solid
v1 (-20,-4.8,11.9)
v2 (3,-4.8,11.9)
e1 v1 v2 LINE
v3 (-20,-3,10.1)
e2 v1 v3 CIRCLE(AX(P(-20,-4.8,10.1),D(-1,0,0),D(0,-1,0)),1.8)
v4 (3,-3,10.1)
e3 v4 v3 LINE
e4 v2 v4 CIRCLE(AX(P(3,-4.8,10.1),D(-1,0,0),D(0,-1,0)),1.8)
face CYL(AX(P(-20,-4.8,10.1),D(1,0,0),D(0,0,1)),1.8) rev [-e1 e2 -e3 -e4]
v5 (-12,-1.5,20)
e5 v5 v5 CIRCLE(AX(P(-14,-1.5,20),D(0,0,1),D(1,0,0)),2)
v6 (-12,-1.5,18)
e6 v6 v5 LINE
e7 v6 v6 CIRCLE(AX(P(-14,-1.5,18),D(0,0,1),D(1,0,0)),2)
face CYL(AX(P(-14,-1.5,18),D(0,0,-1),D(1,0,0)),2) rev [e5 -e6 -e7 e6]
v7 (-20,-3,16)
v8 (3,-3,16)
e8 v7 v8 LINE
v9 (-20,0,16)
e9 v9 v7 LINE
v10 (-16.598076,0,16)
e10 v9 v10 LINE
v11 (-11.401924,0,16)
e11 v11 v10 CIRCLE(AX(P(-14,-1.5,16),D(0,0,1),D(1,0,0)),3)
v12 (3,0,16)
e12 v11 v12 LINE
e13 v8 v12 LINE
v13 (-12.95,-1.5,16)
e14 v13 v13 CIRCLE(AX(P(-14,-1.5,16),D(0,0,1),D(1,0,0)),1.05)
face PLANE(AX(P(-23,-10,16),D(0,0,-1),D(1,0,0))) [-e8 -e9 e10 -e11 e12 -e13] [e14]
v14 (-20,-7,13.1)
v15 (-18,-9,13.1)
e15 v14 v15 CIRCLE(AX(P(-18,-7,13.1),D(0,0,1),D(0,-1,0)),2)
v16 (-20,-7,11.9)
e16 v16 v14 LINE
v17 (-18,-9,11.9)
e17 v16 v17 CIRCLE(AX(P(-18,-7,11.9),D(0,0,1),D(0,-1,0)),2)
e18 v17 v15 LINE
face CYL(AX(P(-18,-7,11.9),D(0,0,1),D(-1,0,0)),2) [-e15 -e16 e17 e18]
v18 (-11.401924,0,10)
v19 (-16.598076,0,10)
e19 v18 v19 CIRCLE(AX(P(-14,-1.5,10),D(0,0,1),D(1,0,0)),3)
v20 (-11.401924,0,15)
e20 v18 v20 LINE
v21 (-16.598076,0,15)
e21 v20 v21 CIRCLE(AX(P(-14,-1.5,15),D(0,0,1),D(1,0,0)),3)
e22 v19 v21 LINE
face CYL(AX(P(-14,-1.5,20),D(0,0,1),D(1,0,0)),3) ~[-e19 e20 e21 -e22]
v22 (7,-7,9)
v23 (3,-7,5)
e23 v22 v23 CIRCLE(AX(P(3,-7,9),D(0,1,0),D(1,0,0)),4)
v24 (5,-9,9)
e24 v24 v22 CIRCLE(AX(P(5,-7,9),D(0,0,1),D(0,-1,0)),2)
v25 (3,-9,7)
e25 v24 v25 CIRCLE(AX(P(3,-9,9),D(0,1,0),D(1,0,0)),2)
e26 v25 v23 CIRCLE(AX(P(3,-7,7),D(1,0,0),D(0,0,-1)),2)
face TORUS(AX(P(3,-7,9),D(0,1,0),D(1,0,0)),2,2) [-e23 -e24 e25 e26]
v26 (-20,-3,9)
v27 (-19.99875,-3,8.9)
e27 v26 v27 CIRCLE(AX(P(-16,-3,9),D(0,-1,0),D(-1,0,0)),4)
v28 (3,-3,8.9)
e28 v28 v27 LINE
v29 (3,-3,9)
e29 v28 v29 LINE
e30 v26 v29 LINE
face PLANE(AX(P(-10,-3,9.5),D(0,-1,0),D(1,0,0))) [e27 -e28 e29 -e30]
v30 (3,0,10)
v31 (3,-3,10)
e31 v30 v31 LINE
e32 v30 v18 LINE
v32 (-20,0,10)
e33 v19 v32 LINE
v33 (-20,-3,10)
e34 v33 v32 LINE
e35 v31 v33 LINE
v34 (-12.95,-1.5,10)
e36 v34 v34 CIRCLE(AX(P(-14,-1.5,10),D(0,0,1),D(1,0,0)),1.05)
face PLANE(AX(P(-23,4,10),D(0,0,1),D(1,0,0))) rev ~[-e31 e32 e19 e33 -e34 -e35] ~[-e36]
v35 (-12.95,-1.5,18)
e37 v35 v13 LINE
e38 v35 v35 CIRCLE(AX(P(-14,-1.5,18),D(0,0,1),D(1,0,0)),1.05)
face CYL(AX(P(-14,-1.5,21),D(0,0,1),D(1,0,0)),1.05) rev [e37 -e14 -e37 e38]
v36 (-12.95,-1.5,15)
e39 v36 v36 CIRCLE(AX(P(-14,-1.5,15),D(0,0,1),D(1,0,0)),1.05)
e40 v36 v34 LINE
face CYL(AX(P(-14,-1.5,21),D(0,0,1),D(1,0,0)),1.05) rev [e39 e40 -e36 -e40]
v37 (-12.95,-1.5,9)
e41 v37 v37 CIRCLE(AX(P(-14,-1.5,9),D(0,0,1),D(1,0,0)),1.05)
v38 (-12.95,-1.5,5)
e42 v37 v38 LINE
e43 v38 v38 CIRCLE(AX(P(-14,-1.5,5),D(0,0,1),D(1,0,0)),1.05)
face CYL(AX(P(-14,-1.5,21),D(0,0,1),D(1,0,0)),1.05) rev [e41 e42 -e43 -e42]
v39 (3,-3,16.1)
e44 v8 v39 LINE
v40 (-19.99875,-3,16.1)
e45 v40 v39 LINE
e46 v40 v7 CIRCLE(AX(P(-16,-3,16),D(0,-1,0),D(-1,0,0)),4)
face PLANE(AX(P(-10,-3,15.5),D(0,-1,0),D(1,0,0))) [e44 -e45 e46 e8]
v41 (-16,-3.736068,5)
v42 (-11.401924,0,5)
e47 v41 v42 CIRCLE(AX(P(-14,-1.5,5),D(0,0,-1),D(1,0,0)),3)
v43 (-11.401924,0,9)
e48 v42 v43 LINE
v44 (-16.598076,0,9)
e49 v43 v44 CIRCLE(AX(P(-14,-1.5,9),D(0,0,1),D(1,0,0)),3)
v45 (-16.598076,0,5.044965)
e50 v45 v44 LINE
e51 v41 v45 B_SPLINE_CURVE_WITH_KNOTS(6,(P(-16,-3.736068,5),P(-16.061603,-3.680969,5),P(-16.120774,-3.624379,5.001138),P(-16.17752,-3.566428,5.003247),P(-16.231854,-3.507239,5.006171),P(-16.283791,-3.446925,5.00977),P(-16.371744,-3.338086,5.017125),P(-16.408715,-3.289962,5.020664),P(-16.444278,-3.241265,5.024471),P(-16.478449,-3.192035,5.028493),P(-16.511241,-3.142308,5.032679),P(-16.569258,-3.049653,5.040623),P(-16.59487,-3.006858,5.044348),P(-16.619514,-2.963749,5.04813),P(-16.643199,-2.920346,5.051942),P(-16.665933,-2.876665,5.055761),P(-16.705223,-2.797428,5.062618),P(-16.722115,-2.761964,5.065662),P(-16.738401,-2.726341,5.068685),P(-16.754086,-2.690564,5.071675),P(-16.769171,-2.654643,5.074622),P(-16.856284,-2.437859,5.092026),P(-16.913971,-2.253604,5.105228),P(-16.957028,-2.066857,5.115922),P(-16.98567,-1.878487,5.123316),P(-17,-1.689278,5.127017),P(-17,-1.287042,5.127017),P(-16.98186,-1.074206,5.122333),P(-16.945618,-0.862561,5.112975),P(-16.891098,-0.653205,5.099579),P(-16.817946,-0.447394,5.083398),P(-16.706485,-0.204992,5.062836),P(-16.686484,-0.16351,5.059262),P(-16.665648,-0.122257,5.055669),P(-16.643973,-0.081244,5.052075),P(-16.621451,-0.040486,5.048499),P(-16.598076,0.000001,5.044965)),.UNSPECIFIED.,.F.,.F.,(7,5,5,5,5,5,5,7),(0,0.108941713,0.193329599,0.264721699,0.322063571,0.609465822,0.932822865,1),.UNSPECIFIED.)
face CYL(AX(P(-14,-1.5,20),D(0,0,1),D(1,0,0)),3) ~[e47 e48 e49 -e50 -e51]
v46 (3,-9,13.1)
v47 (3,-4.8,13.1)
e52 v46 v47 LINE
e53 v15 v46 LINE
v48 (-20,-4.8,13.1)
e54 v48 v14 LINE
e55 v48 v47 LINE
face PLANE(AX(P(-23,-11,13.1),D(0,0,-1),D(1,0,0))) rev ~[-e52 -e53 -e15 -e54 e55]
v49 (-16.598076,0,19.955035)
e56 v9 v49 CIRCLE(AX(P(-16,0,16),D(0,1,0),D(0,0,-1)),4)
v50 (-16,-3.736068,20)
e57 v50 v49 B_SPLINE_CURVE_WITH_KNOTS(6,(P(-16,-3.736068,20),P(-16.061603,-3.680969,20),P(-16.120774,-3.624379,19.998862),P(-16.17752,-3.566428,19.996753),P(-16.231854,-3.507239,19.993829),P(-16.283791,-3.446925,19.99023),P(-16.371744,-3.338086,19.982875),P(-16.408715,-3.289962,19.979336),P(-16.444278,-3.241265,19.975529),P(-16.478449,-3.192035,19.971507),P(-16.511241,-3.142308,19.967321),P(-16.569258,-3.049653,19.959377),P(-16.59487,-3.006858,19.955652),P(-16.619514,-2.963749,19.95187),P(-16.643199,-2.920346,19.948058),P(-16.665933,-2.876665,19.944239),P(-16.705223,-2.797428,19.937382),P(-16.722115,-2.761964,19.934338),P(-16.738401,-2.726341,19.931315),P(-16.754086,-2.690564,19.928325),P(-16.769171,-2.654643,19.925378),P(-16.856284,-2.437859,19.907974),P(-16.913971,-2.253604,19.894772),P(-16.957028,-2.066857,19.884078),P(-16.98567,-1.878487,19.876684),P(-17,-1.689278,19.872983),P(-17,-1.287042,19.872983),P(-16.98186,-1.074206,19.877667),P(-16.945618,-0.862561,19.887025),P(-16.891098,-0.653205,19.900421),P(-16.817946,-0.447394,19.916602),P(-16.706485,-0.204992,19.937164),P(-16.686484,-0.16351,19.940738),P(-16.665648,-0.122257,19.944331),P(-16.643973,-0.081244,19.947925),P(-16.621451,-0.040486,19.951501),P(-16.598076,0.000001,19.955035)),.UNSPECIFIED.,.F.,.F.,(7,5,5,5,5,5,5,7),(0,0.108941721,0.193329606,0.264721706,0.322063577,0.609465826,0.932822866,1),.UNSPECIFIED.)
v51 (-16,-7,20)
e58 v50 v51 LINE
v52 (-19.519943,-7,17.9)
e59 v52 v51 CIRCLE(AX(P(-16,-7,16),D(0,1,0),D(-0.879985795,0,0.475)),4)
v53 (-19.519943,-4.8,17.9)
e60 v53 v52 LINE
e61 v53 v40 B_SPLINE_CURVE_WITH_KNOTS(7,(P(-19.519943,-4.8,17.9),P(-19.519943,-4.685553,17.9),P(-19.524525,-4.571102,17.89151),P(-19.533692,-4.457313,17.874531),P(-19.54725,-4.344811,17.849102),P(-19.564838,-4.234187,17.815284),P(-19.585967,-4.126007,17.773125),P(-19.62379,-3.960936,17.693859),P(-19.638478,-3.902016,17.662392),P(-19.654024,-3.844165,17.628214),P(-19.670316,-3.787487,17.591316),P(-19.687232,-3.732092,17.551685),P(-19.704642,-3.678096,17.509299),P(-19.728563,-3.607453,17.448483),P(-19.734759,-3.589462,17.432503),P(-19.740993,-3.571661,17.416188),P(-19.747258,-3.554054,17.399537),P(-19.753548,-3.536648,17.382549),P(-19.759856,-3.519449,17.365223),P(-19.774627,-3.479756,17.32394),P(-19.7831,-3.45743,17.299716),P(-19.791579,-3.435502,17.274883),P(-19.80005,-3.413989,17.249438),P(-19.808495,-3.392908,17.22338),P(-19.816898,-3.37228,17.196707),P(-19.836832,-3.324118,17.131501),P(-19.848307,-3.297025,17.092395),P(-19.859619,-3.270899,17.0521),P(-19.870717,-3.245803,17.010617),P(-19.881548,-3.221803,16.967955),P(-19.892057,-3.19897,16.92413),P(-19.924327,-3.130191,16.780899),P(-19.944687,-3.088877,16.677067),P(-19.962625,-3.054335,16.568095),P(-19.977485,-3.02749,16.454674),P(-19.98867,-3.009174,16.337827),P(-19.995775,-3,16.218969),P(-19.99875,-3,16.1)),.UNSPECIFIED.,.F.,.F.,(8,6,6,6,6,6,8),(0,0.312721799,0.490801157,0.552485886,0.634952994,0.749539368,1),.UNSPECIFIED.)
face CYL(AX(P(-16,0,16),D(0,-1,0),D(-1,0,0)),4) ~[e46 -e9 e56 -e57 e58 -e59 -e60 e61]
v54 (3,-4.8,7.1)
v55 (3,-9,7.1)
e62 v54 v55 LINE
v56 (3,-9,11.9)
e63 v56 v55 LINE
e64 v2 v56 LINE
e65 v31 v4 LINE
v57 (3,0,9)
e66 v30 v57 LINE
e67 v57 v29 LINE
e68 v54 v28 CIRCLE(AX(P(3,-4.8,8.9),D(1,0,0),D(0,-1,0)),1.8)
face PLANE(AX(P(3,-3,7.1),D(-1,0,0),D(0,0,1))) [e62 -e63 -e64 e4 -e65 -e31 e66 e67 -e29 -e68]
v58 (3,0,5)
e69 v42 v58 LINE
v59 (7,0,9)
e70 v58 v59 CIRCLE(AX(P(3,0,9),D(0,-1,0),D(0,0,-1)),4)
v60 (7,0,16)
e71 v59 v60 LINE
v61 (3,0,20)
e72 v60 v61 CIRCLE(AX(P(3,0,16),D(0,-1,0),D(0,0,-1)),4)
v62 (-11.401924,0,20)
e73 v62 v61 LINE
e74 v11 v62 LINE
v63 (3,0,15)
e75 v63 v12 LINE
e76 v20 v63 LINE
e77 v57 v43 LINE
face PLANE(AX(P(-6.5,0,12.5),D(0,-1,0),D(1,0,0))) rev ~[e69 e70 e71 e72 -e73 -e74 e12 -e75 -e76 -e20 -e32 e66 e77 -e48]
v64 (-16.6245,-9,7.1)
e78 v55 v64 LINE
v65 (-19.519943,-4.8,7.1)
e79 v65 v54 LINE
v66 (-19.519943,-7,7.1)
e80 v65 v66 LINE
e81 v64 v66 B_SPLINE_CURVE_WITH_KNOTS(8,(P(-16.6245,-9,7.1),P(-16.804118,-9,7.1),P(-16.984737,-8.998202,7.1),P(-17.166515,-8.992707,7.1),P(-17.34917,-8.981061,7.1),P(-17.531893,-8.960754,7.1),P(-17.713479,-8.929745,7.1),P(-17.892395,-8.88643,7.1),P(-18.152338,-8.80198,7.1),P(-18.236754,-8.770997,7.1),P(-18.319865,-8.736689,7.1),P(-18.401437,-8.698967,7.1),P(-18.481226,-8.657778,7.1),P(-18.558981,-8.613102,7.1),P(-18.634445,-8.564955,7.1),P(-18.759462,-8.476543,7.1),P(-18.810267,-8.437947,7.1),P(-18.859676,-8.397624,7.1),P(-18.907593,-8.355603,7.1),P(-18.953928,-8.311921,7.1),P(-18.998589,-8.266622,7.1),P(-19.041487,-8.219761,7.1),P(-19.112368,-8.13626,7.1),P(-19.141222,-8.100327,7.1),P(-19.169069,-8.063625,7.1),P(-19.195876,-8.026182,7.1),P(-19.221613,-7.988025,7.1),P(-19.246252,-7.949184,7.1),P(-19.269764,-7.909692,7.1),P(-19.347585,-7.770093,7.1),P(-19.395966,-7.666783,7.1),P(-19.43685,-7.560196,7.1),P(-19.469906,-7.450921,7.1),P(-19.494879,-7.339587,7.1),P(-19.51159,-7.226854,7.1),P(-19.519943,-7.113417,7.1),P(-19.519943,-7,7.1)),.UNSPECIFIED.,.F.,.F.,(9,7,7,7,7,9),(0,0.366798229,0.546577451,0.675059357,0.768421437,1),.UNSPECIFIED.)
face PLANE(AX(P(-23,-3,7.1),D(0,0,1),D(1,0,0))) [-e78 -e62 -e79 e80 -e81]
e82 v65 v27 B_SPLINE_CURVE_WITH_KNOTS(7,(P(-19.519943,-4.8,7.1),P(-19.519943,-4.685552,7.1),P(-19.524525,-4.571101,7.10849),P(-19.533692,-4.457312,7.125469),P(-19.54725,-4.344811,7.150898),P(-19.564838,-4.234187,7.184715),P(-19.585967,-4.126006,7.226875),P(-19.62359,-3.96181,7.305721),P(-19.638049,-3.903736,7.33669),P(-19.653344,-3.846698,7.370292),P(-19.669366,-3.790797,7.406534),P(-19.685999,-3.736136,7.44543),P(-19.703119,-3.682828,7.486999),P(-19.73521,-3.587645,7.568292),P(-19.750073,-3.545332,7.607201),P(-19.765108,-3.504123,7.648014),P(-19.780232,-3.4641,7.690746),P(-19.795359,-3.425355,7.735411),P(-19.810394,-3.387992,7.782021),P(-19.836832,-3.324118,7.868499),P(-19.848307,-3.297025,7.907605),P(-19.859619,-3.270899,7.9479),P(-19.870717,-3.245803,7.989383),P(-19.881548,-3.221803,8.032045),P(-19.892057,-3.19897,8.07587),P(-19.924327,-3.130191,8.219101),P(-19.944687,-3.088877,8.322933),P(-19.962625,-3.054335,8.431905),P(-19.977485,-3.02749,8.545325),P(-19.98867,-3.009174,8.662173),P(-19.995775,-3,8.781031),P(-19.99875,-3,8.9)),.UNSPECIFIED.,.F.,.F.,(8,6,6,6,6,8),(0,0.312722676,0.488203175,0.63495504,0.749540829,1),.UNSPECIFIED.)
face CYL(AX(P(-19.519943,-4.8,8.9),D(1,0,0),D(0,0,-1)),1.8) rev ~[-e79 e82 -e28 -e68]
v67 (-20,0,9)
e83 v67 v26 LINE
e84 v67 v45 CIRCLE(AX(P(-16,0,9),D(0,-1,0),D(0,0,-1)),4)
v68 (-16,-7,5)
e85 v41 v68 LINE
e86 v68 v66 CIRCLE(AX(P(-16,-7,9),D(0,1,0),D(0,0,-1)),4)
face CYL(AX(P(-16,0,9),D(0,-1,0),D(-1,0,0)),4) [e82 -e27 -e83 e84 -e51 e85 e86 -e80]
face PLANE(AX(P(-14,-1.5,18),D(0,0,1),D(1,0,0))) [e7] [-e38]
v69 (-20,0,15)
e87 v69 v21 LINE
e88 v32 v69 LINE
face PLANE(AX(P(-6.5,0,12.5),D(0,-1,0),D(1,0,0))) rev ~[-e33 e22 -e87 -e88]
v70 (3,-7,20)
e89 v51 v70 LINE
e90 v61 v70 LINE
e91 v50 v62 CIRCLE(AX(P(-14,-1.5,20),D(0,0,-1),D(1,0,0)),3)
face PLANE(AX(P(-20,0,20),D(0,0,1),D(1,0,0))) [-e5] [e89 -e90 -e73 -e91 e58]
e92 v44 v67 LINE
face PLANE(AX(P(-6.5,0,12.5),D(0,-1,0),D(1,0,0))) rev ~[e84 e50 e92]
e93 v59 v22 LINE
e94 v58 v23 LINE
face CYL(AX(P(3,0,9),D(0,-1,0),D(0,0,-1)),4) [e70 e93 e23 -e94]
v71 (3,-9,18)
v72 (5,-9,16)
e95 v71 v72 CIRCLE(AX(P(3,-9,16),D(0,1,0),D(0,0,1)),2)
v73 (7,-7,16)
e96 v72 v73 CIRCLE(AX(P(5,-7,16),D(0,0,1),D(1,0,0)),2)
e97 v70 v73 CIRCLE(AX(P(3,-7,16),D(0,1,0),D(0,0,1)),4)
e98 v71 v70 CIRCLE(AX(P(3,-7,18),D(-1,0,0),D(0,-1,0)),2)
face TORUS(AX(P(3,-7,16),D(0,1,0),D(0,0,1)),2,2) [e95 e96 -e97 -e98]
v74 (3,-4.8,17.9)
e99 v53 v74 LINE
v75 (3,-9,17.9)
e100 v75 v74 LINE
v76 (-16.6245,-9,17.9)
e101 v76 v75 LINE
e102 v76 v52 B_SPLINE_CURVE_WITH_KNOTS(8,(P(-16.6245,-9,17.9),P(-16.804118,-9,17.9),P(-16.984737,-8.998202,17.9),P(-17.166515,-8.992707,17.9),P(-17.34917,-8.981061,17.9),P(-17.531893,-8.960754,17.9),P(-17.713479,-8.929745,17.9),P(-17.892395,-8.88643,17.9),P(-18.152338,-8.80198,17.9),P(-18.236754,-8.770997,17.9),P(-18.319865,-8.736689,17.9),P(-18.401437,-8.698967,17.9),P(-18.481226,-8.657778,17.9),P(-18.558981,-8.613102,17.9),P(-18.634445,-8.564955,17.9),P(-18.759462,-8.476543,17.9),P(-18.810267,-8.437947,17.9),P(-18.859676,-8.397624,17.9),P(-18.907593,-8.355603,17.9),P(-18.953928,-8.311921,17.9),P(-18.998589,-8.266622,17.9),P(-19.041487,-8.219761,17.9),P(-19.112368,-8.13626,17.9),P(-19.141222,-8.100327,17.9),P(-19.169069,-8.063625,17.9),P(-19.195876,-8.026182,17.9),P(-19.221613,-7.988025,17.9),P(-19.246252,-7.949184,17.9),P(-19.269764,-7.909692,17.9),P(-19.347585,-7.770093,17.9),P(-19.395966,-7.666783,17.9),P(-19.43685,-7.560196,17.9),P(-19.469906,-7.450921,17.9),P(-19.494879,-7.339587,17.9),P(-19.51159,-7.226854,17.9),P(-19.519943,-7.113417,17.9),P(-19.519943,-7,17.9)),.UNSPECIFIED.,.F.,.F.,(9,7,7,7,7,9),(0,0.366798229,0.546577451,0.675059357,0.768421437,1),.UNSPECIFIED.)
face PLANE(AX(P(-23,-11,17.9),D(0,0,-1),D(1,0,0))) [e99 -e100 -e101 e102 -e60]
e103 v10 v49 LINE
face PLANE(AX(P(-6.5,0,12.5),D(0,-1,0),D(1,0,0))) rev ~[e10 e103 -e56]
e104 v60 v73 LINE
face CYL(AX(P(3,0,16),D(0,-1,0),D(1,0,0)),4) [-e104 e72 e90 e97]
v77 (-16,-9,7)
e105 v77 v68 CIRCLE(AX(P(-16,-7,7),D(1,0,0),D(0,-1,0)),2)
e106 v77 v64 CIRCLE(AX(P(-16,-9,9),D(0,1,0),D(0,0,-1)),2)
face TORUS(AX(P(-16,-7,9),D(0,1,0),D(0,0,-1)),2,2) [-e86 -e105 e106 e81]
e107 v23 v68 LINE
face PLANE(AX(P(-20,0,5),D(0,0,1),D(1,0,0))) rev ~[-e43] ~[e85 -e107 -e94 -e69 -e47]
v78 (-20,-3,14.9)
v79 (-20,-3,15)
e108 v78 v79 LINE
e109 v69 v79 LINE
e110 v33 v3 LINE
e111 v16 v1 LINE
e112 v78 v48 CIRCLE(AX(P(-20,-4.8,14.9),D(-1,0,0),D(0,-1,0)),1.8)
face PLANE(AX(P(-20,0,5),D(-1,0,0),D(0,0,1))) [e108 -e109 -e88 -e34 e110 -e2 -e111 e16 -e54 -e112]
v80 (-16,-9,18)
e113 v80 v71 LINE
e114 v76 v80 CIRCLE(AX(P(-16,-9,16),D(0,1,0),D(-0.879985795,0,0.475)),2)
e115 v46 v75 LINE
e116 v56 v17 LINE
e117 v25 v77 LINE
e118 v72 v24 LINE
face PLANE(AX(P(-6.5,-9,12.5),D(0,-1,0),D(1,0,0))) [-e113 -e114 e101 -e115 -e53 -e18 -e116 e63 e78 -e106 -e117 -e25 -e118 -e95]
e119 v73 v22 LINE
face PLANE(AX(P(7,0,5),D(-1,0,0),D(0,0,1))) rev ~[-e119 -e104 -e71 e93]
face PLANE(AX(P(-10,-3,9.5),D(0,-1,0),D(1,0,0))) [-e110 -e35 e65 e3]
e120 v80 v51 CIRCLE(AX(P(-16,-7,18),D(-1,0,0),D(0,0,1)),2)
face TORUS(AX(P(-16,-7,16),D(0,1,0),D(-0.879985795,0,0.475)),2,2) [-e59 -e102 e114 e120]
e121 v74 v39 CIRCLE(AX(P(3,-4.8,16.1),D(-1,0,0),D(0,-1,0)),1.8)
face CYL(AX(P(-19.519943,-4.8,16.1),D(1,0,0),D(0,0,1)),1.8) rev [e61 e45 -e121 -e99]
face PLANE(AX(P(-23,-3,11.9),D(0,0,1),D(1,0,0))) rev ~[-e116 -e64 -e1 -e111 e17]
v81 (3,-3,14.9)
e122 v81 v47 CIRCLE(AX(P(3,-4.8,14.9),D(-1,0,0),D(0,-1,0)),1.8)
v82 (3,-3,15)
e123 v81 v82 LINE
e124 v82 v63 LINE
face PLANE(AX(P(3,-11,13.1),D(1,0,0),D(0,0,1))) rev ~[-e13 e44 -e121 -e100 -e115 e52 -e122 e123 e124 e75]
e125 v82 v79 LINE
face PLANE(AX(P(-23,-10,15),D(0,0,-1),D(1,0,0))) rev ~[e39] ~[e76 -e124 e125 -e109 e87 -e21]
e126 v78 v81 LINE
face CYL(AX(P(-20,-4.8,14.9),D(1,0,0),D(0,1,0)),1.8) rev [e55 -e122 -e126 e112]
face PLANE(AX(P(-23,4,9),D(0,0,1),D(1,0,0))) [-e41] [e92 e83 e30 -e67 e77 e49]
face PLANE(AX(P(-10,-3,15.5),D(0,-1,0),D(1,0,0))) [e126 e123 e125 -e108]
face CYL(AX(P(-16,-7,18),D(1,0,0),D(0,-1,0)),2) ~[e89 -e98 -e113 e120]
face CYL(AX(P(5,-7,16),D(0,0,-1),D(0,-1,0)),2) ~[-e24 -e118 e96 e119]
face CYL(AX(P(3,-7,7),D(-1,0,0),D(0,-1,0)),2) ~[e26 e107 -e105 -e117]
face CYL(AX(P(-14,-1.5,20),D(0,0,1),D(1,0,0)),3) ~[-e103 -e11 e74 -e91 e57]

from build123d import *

# Parameters (mm, degrees)
CYLINDER002_R          = 2
CYLINDER002_DEPTH      = 2
CYLINDER_R             = 1.05
CYLINDER_DEPTH         = 20
CYLINDER_ROLL_ANGLE    = 90
RECTANGLE004_W         = 26
RECTANGLE004_H         = 4.8
EXTRUDE005_DEPTH       = 8
RECTANGLE002_W         = 26
RECTANGLE002_H         = 1
EXTRUDE004_DEPTH       = 20
RECTANGLE005_W         = 26
RECTANGLE005_H         = 4.8
EXTRUDE008_DEPTH       = 8
RECTANGLE001_W         = 26
RECTANGLE001_H         = 1
EXTRUDE002_DEPTH       = 20
RECTANGLE_W            = 27
RECTANGLE_H            = 15
EXTRUDE_DEPTH          = 9
FILLET_R               = 4
FILLET001_R            = 1.8
RECTANGLE008_W         = 26
RECTANGLE008_H         = 4.8
EXTRUDE011_DEPTH       = 8
RECTANGLE007_W         = 26
RECTANGLE007_H         = 1
EXTRUDE010_DEPTH       = 20
RECTANGLE009_W         = 26
RECTANGLE009_H         = 4.8
EXTRUDE012_DEPTH       = 8
RECTANGLE006_W         = 26
RECTANGLE006_H         = 1
EXTRUDE009_DEPTH       = 20
CYLINDER001_R          = 3
CYLINDER001_DEPTH      = 15
CYLINDER001_ROLL_ANGLE = 90
CUT002_ROLL_ANGLE      = 90
FILLET002_R            = 2


with BuildPart() as cylinder002:
    # Cylinder002 → Cylinder002 (new body)
    with BuildSketch(Plane(origin=(-14, -1.5, 18), x_dir=(1, 0, 0), z_dir=(0, 0, 1))):
        Circle(CYLINDER002_R)
    extrude(amount=CYLINDER002_DEPTH)


with BuildPart() as cylinder:
    # Cylinder → Cylinder (new body)
    with BuildSketch(Plane.XY):
        Circle(CYLINDER_R)
    extrude(amount=CYLINDER_DEPTH)


with BuildPart() as cylinder_1:
    # Cylinder roll: moved
    add(cylinder.part.rotate(Axis((0, 0, 0), (1, 0, 0)), CYLINDER_ROLL_ANGLE))


with BuildPart() as cylinder_2:
    # Cylinder placement: moved
    add(cylinder_1.part.moved(Location((-14, 21, 1.5))))


with BuildPart() as extrude005:
    # Rectangle004 → Extrude005 (new body)
    with BuildSketch(Plane(origin=(-23, 13.1, 0), x_dir=(1, 0, 0), z_dir=(0, 0, 1))):
        with Locations((13, 2.4)):
            Rectangle(RECTANGLE004_W, RECTANGLE004_H)
    extrude(amount=-EXTRUDE005_DEPTH)


with BuildPart() as extrude005_1:
    # Extrude005 placement: moved
    add(extrude005.part.moved(Location((0, 0, 11))))


with BuildPart() as extrude004:
    # Rectangle002 → Extrude004 (new body)
    with BuildSketch(Plane(origin=(-23, 10, 0), x_dir=(1, 0, 0), z_dir=(0, 0, 1))):
        with Locations((13, -0.5)):
            Rectangle(RECTANGLE002_W, RECTANGLE002_H)
    extrude(amount=EXTRUDE004_DEPTH)


with BuildPart() as extrude004_1:
    # Extrude004 placement: moved
    add(extrude004.part.moved(Location((0, 0, -4))))


with BuildPart() as extrude008:
    # Rectangle005 → Extrude008 (new body)
    with BuildSketch(Plane(origin=(-23, 11.9, 0), x_dir=(1, 0, 0), z_dir=(0, 0, 1))):
        with Locations((13, -2.4)):
            Rectangle(RECTANGLE005_W, RECTANGLE005_H)
    extrude(amount=EXTRUDE008_DEPTH)


with BuildPart() as extrude008_1:
    # Extrude008 placement: moved
    add(extrude008.part.moved(Location((0, 0, 3))))


with BuildPart() as fusion:
    # Rectangle001 → Extrude002 (new body)
    with BuildSketch(Plane(origin=(-23, 16, 0), x_dir=(1, 0, 0), z_dir=(0, 0, 1))):
        with Locations((13, 0.5)):
            Rectangle(RECTANGLE001_W, RECTANGLE001_H)
    extrude(amount=-EXTRUDE002_DEPTH)


with BuildPart() as fusion_1:
    # Extrude002 placement: moved
    add(fusion.part.moved(Location((0, -1, 10))))

    # Fusion: union Extrude005, Extrude004, Extrude008
    add(extrude005_1.part)
    add(extrude004_1.part)
    add(extrude008_1.part)


with BuildPart() as fillet001:
    # Rectangle → Extrude (new body)
    with BuildSketch(Plane(origin=(-20, 20, 0), x_dir=(1, 0, 0), z_dir=(0, 0, 1))):
        with Locations((13.5, -7.5)):
            Rectangle(RECTANGLE_W, RECTANGLE_H)
    extrude(amount=EXTRUDE_DEPTH)

    # Fillet
    fillet_edges = [fillet001.edges().sort_by_distance(p)[0] for p in [
        (-20, 20, 4.5),
        (7, 20, 4.5),
        (7, 5, 4.5),
        (-20, 5, 4.5),
    ]]
    fillet(fillet_edges, radius=FILLET_R)

    # Cut: cut Fusion
    add(fusion_1.part, mode=Mode.SUBTRACT)

    # Fillet001
    fillet001_edges = [fillet001.edges().sort_by_distance(p)[0] for p in [
        (-8.259972, 17.9, 3),
        (-8.259972, 7.1, 3),
        (-8.5, 11.9, 3),
        (-8.5, 13.1, 3),
    ]]
    fillet(fillet001_edges, radius=FILLET001_R)


with BuildPart() as extrude011:
    # Rectangle008 → Extrude011 (new body)
    with BuildSketch(Plane(origin=(-23, 13.1, 0), x_dir=(1, 0, 0), z_dir=(0, 0, 1))):
        with Locations((13, 2.4)):
            Rectangle(RECTANGLE008_W, RECTANGLE008_H)
    extrude(amount=-EXTRUDE011_DEPTH)


with BuildPart() as extrude011_1:
    # Extrude011 placement: moved
    add(extrude011.part.moved(Location((0, 0, 11))))


with BuildPart() as extrude010:
    # Rectangle007 → Extrude010 (new body)
    with BuildSketch(Plane(origin=(-23, 10, 0), x_dir=(1, 0, 0), z_dir=(0, 0, 1))):
        with Locations((13, -0.5)):
            Rectangle(RECTANGLE007_W, RECTANGLE007_H)
    extrude(amount=EXTRUDE010_DEPTH)


with BuildPart() as extrude010_1:
    # Extrude010 placement: moved
    add(extrude010.part.moved(Location((0, 0, -4))))


with BuildPart() as extrude012:
    # Rectangle009 → Extrude012 (new body)
    with BuildSketch(Plane(origin=(-23, 11.9, 0), x_dir=(1, 0, 0), z_dir=(0, 0, 1))):
        with Locations((13, -2.4)):
            Rectangle(RECTANGLE009_W, RECTANGLE009_H)
    extrude(amount=EXTRUDE012_DEPTH)


with BuildPart() as extrude012_1:
    # Extrude012 placement: moved
    add(extrude012.part.moved(Location((0, 0, 3))))


with BuildPart() as fusion001:
    # Rectangle006 → Extrude009 (new body)
    with BuildSketch(Plane(origin=(-23, 16, 0), x_dir=(1, 0, 0), z_dir=(0, 0, 1))):
        with Locations((13, 0.5)):
            Rectangle(RECTANGLE006_W, RECTANGLE006_H)
    extrude(amount=-EXTRUDE009_DEPTH)


with BuildPart() as fusion001_1:
    # Extrude009 placement: moved
    add(fusion001.part.moved(Location((0, -1, 10))))

    # Fusion001: union Extrude011, Extrude010, Extrude012
    add(extrude011_1.part)
    add(extrude010_1.part)
    add(extrude012_1.part)


with BuildPart() as fillet002:
    # Cylinder001 → Cylinder001 (new body)
    with BuildSketch(Plane.XY):
        Circle(CYLINDER001_R)
    extrude(amount=CYLINDER001_DEPTH)


with BuildPart() as fillet002_1:
    # Cylinder001 roll: moved
    add(fillet002.part.rotate(Axis((0, 0, 0), (1, 0, 0)), CYLINDER001_ROLL_ANGLE))


with BuildPart() as fillet002_2:
    # Cylinder001 placement: moved
    add(fillet002_1.part.moved(Location((-14, 20, 1.5))))

    # Cut001: cut Fusion001
    add(fusion001_1.part, mode=Mode.SUBTRACT)

    # Fusion002: union Fillet001
    add(fillet001.part)

    # Cut002: cut Cylinder
    add(cylinder_2.part, mode=Mode.SUBTRACT)


with BuildPart() as fillet002_3:
    # Cut002 roll: moved
    add(fillet002_2.part.rotate(Axis((0, 0, 0), (1, 0, 0)), CUT002_ROLL_ANGLE))


with BuildPart() as fillet002_4:
    # Cut002 placement: moved
    add(fillet002_3.part)

    # Cut003: cut Cylinder002
    add(cylinder002.part, mode=Mode.SUBTRACT)

    # Fillet002
    fillet002_edges = [fillet002_4.edges().sort_by_distance(p)[0] for p in [
        (-6.5, -9, 20),
        (5.828427, -9, 18.828427),
        (7, -9, 12.5),
        (5.828427, -9, 6.171573),
        (-6.5, -9, 5),
        (-18.04939, -9, 5.564887),
        (-20, -9, 12.5),
        (-18.04939, -9, 19.435113),
    ]]
    fillet(fillet002_edges, radius=FILLET002_R)


solid = fillet002_4.part
